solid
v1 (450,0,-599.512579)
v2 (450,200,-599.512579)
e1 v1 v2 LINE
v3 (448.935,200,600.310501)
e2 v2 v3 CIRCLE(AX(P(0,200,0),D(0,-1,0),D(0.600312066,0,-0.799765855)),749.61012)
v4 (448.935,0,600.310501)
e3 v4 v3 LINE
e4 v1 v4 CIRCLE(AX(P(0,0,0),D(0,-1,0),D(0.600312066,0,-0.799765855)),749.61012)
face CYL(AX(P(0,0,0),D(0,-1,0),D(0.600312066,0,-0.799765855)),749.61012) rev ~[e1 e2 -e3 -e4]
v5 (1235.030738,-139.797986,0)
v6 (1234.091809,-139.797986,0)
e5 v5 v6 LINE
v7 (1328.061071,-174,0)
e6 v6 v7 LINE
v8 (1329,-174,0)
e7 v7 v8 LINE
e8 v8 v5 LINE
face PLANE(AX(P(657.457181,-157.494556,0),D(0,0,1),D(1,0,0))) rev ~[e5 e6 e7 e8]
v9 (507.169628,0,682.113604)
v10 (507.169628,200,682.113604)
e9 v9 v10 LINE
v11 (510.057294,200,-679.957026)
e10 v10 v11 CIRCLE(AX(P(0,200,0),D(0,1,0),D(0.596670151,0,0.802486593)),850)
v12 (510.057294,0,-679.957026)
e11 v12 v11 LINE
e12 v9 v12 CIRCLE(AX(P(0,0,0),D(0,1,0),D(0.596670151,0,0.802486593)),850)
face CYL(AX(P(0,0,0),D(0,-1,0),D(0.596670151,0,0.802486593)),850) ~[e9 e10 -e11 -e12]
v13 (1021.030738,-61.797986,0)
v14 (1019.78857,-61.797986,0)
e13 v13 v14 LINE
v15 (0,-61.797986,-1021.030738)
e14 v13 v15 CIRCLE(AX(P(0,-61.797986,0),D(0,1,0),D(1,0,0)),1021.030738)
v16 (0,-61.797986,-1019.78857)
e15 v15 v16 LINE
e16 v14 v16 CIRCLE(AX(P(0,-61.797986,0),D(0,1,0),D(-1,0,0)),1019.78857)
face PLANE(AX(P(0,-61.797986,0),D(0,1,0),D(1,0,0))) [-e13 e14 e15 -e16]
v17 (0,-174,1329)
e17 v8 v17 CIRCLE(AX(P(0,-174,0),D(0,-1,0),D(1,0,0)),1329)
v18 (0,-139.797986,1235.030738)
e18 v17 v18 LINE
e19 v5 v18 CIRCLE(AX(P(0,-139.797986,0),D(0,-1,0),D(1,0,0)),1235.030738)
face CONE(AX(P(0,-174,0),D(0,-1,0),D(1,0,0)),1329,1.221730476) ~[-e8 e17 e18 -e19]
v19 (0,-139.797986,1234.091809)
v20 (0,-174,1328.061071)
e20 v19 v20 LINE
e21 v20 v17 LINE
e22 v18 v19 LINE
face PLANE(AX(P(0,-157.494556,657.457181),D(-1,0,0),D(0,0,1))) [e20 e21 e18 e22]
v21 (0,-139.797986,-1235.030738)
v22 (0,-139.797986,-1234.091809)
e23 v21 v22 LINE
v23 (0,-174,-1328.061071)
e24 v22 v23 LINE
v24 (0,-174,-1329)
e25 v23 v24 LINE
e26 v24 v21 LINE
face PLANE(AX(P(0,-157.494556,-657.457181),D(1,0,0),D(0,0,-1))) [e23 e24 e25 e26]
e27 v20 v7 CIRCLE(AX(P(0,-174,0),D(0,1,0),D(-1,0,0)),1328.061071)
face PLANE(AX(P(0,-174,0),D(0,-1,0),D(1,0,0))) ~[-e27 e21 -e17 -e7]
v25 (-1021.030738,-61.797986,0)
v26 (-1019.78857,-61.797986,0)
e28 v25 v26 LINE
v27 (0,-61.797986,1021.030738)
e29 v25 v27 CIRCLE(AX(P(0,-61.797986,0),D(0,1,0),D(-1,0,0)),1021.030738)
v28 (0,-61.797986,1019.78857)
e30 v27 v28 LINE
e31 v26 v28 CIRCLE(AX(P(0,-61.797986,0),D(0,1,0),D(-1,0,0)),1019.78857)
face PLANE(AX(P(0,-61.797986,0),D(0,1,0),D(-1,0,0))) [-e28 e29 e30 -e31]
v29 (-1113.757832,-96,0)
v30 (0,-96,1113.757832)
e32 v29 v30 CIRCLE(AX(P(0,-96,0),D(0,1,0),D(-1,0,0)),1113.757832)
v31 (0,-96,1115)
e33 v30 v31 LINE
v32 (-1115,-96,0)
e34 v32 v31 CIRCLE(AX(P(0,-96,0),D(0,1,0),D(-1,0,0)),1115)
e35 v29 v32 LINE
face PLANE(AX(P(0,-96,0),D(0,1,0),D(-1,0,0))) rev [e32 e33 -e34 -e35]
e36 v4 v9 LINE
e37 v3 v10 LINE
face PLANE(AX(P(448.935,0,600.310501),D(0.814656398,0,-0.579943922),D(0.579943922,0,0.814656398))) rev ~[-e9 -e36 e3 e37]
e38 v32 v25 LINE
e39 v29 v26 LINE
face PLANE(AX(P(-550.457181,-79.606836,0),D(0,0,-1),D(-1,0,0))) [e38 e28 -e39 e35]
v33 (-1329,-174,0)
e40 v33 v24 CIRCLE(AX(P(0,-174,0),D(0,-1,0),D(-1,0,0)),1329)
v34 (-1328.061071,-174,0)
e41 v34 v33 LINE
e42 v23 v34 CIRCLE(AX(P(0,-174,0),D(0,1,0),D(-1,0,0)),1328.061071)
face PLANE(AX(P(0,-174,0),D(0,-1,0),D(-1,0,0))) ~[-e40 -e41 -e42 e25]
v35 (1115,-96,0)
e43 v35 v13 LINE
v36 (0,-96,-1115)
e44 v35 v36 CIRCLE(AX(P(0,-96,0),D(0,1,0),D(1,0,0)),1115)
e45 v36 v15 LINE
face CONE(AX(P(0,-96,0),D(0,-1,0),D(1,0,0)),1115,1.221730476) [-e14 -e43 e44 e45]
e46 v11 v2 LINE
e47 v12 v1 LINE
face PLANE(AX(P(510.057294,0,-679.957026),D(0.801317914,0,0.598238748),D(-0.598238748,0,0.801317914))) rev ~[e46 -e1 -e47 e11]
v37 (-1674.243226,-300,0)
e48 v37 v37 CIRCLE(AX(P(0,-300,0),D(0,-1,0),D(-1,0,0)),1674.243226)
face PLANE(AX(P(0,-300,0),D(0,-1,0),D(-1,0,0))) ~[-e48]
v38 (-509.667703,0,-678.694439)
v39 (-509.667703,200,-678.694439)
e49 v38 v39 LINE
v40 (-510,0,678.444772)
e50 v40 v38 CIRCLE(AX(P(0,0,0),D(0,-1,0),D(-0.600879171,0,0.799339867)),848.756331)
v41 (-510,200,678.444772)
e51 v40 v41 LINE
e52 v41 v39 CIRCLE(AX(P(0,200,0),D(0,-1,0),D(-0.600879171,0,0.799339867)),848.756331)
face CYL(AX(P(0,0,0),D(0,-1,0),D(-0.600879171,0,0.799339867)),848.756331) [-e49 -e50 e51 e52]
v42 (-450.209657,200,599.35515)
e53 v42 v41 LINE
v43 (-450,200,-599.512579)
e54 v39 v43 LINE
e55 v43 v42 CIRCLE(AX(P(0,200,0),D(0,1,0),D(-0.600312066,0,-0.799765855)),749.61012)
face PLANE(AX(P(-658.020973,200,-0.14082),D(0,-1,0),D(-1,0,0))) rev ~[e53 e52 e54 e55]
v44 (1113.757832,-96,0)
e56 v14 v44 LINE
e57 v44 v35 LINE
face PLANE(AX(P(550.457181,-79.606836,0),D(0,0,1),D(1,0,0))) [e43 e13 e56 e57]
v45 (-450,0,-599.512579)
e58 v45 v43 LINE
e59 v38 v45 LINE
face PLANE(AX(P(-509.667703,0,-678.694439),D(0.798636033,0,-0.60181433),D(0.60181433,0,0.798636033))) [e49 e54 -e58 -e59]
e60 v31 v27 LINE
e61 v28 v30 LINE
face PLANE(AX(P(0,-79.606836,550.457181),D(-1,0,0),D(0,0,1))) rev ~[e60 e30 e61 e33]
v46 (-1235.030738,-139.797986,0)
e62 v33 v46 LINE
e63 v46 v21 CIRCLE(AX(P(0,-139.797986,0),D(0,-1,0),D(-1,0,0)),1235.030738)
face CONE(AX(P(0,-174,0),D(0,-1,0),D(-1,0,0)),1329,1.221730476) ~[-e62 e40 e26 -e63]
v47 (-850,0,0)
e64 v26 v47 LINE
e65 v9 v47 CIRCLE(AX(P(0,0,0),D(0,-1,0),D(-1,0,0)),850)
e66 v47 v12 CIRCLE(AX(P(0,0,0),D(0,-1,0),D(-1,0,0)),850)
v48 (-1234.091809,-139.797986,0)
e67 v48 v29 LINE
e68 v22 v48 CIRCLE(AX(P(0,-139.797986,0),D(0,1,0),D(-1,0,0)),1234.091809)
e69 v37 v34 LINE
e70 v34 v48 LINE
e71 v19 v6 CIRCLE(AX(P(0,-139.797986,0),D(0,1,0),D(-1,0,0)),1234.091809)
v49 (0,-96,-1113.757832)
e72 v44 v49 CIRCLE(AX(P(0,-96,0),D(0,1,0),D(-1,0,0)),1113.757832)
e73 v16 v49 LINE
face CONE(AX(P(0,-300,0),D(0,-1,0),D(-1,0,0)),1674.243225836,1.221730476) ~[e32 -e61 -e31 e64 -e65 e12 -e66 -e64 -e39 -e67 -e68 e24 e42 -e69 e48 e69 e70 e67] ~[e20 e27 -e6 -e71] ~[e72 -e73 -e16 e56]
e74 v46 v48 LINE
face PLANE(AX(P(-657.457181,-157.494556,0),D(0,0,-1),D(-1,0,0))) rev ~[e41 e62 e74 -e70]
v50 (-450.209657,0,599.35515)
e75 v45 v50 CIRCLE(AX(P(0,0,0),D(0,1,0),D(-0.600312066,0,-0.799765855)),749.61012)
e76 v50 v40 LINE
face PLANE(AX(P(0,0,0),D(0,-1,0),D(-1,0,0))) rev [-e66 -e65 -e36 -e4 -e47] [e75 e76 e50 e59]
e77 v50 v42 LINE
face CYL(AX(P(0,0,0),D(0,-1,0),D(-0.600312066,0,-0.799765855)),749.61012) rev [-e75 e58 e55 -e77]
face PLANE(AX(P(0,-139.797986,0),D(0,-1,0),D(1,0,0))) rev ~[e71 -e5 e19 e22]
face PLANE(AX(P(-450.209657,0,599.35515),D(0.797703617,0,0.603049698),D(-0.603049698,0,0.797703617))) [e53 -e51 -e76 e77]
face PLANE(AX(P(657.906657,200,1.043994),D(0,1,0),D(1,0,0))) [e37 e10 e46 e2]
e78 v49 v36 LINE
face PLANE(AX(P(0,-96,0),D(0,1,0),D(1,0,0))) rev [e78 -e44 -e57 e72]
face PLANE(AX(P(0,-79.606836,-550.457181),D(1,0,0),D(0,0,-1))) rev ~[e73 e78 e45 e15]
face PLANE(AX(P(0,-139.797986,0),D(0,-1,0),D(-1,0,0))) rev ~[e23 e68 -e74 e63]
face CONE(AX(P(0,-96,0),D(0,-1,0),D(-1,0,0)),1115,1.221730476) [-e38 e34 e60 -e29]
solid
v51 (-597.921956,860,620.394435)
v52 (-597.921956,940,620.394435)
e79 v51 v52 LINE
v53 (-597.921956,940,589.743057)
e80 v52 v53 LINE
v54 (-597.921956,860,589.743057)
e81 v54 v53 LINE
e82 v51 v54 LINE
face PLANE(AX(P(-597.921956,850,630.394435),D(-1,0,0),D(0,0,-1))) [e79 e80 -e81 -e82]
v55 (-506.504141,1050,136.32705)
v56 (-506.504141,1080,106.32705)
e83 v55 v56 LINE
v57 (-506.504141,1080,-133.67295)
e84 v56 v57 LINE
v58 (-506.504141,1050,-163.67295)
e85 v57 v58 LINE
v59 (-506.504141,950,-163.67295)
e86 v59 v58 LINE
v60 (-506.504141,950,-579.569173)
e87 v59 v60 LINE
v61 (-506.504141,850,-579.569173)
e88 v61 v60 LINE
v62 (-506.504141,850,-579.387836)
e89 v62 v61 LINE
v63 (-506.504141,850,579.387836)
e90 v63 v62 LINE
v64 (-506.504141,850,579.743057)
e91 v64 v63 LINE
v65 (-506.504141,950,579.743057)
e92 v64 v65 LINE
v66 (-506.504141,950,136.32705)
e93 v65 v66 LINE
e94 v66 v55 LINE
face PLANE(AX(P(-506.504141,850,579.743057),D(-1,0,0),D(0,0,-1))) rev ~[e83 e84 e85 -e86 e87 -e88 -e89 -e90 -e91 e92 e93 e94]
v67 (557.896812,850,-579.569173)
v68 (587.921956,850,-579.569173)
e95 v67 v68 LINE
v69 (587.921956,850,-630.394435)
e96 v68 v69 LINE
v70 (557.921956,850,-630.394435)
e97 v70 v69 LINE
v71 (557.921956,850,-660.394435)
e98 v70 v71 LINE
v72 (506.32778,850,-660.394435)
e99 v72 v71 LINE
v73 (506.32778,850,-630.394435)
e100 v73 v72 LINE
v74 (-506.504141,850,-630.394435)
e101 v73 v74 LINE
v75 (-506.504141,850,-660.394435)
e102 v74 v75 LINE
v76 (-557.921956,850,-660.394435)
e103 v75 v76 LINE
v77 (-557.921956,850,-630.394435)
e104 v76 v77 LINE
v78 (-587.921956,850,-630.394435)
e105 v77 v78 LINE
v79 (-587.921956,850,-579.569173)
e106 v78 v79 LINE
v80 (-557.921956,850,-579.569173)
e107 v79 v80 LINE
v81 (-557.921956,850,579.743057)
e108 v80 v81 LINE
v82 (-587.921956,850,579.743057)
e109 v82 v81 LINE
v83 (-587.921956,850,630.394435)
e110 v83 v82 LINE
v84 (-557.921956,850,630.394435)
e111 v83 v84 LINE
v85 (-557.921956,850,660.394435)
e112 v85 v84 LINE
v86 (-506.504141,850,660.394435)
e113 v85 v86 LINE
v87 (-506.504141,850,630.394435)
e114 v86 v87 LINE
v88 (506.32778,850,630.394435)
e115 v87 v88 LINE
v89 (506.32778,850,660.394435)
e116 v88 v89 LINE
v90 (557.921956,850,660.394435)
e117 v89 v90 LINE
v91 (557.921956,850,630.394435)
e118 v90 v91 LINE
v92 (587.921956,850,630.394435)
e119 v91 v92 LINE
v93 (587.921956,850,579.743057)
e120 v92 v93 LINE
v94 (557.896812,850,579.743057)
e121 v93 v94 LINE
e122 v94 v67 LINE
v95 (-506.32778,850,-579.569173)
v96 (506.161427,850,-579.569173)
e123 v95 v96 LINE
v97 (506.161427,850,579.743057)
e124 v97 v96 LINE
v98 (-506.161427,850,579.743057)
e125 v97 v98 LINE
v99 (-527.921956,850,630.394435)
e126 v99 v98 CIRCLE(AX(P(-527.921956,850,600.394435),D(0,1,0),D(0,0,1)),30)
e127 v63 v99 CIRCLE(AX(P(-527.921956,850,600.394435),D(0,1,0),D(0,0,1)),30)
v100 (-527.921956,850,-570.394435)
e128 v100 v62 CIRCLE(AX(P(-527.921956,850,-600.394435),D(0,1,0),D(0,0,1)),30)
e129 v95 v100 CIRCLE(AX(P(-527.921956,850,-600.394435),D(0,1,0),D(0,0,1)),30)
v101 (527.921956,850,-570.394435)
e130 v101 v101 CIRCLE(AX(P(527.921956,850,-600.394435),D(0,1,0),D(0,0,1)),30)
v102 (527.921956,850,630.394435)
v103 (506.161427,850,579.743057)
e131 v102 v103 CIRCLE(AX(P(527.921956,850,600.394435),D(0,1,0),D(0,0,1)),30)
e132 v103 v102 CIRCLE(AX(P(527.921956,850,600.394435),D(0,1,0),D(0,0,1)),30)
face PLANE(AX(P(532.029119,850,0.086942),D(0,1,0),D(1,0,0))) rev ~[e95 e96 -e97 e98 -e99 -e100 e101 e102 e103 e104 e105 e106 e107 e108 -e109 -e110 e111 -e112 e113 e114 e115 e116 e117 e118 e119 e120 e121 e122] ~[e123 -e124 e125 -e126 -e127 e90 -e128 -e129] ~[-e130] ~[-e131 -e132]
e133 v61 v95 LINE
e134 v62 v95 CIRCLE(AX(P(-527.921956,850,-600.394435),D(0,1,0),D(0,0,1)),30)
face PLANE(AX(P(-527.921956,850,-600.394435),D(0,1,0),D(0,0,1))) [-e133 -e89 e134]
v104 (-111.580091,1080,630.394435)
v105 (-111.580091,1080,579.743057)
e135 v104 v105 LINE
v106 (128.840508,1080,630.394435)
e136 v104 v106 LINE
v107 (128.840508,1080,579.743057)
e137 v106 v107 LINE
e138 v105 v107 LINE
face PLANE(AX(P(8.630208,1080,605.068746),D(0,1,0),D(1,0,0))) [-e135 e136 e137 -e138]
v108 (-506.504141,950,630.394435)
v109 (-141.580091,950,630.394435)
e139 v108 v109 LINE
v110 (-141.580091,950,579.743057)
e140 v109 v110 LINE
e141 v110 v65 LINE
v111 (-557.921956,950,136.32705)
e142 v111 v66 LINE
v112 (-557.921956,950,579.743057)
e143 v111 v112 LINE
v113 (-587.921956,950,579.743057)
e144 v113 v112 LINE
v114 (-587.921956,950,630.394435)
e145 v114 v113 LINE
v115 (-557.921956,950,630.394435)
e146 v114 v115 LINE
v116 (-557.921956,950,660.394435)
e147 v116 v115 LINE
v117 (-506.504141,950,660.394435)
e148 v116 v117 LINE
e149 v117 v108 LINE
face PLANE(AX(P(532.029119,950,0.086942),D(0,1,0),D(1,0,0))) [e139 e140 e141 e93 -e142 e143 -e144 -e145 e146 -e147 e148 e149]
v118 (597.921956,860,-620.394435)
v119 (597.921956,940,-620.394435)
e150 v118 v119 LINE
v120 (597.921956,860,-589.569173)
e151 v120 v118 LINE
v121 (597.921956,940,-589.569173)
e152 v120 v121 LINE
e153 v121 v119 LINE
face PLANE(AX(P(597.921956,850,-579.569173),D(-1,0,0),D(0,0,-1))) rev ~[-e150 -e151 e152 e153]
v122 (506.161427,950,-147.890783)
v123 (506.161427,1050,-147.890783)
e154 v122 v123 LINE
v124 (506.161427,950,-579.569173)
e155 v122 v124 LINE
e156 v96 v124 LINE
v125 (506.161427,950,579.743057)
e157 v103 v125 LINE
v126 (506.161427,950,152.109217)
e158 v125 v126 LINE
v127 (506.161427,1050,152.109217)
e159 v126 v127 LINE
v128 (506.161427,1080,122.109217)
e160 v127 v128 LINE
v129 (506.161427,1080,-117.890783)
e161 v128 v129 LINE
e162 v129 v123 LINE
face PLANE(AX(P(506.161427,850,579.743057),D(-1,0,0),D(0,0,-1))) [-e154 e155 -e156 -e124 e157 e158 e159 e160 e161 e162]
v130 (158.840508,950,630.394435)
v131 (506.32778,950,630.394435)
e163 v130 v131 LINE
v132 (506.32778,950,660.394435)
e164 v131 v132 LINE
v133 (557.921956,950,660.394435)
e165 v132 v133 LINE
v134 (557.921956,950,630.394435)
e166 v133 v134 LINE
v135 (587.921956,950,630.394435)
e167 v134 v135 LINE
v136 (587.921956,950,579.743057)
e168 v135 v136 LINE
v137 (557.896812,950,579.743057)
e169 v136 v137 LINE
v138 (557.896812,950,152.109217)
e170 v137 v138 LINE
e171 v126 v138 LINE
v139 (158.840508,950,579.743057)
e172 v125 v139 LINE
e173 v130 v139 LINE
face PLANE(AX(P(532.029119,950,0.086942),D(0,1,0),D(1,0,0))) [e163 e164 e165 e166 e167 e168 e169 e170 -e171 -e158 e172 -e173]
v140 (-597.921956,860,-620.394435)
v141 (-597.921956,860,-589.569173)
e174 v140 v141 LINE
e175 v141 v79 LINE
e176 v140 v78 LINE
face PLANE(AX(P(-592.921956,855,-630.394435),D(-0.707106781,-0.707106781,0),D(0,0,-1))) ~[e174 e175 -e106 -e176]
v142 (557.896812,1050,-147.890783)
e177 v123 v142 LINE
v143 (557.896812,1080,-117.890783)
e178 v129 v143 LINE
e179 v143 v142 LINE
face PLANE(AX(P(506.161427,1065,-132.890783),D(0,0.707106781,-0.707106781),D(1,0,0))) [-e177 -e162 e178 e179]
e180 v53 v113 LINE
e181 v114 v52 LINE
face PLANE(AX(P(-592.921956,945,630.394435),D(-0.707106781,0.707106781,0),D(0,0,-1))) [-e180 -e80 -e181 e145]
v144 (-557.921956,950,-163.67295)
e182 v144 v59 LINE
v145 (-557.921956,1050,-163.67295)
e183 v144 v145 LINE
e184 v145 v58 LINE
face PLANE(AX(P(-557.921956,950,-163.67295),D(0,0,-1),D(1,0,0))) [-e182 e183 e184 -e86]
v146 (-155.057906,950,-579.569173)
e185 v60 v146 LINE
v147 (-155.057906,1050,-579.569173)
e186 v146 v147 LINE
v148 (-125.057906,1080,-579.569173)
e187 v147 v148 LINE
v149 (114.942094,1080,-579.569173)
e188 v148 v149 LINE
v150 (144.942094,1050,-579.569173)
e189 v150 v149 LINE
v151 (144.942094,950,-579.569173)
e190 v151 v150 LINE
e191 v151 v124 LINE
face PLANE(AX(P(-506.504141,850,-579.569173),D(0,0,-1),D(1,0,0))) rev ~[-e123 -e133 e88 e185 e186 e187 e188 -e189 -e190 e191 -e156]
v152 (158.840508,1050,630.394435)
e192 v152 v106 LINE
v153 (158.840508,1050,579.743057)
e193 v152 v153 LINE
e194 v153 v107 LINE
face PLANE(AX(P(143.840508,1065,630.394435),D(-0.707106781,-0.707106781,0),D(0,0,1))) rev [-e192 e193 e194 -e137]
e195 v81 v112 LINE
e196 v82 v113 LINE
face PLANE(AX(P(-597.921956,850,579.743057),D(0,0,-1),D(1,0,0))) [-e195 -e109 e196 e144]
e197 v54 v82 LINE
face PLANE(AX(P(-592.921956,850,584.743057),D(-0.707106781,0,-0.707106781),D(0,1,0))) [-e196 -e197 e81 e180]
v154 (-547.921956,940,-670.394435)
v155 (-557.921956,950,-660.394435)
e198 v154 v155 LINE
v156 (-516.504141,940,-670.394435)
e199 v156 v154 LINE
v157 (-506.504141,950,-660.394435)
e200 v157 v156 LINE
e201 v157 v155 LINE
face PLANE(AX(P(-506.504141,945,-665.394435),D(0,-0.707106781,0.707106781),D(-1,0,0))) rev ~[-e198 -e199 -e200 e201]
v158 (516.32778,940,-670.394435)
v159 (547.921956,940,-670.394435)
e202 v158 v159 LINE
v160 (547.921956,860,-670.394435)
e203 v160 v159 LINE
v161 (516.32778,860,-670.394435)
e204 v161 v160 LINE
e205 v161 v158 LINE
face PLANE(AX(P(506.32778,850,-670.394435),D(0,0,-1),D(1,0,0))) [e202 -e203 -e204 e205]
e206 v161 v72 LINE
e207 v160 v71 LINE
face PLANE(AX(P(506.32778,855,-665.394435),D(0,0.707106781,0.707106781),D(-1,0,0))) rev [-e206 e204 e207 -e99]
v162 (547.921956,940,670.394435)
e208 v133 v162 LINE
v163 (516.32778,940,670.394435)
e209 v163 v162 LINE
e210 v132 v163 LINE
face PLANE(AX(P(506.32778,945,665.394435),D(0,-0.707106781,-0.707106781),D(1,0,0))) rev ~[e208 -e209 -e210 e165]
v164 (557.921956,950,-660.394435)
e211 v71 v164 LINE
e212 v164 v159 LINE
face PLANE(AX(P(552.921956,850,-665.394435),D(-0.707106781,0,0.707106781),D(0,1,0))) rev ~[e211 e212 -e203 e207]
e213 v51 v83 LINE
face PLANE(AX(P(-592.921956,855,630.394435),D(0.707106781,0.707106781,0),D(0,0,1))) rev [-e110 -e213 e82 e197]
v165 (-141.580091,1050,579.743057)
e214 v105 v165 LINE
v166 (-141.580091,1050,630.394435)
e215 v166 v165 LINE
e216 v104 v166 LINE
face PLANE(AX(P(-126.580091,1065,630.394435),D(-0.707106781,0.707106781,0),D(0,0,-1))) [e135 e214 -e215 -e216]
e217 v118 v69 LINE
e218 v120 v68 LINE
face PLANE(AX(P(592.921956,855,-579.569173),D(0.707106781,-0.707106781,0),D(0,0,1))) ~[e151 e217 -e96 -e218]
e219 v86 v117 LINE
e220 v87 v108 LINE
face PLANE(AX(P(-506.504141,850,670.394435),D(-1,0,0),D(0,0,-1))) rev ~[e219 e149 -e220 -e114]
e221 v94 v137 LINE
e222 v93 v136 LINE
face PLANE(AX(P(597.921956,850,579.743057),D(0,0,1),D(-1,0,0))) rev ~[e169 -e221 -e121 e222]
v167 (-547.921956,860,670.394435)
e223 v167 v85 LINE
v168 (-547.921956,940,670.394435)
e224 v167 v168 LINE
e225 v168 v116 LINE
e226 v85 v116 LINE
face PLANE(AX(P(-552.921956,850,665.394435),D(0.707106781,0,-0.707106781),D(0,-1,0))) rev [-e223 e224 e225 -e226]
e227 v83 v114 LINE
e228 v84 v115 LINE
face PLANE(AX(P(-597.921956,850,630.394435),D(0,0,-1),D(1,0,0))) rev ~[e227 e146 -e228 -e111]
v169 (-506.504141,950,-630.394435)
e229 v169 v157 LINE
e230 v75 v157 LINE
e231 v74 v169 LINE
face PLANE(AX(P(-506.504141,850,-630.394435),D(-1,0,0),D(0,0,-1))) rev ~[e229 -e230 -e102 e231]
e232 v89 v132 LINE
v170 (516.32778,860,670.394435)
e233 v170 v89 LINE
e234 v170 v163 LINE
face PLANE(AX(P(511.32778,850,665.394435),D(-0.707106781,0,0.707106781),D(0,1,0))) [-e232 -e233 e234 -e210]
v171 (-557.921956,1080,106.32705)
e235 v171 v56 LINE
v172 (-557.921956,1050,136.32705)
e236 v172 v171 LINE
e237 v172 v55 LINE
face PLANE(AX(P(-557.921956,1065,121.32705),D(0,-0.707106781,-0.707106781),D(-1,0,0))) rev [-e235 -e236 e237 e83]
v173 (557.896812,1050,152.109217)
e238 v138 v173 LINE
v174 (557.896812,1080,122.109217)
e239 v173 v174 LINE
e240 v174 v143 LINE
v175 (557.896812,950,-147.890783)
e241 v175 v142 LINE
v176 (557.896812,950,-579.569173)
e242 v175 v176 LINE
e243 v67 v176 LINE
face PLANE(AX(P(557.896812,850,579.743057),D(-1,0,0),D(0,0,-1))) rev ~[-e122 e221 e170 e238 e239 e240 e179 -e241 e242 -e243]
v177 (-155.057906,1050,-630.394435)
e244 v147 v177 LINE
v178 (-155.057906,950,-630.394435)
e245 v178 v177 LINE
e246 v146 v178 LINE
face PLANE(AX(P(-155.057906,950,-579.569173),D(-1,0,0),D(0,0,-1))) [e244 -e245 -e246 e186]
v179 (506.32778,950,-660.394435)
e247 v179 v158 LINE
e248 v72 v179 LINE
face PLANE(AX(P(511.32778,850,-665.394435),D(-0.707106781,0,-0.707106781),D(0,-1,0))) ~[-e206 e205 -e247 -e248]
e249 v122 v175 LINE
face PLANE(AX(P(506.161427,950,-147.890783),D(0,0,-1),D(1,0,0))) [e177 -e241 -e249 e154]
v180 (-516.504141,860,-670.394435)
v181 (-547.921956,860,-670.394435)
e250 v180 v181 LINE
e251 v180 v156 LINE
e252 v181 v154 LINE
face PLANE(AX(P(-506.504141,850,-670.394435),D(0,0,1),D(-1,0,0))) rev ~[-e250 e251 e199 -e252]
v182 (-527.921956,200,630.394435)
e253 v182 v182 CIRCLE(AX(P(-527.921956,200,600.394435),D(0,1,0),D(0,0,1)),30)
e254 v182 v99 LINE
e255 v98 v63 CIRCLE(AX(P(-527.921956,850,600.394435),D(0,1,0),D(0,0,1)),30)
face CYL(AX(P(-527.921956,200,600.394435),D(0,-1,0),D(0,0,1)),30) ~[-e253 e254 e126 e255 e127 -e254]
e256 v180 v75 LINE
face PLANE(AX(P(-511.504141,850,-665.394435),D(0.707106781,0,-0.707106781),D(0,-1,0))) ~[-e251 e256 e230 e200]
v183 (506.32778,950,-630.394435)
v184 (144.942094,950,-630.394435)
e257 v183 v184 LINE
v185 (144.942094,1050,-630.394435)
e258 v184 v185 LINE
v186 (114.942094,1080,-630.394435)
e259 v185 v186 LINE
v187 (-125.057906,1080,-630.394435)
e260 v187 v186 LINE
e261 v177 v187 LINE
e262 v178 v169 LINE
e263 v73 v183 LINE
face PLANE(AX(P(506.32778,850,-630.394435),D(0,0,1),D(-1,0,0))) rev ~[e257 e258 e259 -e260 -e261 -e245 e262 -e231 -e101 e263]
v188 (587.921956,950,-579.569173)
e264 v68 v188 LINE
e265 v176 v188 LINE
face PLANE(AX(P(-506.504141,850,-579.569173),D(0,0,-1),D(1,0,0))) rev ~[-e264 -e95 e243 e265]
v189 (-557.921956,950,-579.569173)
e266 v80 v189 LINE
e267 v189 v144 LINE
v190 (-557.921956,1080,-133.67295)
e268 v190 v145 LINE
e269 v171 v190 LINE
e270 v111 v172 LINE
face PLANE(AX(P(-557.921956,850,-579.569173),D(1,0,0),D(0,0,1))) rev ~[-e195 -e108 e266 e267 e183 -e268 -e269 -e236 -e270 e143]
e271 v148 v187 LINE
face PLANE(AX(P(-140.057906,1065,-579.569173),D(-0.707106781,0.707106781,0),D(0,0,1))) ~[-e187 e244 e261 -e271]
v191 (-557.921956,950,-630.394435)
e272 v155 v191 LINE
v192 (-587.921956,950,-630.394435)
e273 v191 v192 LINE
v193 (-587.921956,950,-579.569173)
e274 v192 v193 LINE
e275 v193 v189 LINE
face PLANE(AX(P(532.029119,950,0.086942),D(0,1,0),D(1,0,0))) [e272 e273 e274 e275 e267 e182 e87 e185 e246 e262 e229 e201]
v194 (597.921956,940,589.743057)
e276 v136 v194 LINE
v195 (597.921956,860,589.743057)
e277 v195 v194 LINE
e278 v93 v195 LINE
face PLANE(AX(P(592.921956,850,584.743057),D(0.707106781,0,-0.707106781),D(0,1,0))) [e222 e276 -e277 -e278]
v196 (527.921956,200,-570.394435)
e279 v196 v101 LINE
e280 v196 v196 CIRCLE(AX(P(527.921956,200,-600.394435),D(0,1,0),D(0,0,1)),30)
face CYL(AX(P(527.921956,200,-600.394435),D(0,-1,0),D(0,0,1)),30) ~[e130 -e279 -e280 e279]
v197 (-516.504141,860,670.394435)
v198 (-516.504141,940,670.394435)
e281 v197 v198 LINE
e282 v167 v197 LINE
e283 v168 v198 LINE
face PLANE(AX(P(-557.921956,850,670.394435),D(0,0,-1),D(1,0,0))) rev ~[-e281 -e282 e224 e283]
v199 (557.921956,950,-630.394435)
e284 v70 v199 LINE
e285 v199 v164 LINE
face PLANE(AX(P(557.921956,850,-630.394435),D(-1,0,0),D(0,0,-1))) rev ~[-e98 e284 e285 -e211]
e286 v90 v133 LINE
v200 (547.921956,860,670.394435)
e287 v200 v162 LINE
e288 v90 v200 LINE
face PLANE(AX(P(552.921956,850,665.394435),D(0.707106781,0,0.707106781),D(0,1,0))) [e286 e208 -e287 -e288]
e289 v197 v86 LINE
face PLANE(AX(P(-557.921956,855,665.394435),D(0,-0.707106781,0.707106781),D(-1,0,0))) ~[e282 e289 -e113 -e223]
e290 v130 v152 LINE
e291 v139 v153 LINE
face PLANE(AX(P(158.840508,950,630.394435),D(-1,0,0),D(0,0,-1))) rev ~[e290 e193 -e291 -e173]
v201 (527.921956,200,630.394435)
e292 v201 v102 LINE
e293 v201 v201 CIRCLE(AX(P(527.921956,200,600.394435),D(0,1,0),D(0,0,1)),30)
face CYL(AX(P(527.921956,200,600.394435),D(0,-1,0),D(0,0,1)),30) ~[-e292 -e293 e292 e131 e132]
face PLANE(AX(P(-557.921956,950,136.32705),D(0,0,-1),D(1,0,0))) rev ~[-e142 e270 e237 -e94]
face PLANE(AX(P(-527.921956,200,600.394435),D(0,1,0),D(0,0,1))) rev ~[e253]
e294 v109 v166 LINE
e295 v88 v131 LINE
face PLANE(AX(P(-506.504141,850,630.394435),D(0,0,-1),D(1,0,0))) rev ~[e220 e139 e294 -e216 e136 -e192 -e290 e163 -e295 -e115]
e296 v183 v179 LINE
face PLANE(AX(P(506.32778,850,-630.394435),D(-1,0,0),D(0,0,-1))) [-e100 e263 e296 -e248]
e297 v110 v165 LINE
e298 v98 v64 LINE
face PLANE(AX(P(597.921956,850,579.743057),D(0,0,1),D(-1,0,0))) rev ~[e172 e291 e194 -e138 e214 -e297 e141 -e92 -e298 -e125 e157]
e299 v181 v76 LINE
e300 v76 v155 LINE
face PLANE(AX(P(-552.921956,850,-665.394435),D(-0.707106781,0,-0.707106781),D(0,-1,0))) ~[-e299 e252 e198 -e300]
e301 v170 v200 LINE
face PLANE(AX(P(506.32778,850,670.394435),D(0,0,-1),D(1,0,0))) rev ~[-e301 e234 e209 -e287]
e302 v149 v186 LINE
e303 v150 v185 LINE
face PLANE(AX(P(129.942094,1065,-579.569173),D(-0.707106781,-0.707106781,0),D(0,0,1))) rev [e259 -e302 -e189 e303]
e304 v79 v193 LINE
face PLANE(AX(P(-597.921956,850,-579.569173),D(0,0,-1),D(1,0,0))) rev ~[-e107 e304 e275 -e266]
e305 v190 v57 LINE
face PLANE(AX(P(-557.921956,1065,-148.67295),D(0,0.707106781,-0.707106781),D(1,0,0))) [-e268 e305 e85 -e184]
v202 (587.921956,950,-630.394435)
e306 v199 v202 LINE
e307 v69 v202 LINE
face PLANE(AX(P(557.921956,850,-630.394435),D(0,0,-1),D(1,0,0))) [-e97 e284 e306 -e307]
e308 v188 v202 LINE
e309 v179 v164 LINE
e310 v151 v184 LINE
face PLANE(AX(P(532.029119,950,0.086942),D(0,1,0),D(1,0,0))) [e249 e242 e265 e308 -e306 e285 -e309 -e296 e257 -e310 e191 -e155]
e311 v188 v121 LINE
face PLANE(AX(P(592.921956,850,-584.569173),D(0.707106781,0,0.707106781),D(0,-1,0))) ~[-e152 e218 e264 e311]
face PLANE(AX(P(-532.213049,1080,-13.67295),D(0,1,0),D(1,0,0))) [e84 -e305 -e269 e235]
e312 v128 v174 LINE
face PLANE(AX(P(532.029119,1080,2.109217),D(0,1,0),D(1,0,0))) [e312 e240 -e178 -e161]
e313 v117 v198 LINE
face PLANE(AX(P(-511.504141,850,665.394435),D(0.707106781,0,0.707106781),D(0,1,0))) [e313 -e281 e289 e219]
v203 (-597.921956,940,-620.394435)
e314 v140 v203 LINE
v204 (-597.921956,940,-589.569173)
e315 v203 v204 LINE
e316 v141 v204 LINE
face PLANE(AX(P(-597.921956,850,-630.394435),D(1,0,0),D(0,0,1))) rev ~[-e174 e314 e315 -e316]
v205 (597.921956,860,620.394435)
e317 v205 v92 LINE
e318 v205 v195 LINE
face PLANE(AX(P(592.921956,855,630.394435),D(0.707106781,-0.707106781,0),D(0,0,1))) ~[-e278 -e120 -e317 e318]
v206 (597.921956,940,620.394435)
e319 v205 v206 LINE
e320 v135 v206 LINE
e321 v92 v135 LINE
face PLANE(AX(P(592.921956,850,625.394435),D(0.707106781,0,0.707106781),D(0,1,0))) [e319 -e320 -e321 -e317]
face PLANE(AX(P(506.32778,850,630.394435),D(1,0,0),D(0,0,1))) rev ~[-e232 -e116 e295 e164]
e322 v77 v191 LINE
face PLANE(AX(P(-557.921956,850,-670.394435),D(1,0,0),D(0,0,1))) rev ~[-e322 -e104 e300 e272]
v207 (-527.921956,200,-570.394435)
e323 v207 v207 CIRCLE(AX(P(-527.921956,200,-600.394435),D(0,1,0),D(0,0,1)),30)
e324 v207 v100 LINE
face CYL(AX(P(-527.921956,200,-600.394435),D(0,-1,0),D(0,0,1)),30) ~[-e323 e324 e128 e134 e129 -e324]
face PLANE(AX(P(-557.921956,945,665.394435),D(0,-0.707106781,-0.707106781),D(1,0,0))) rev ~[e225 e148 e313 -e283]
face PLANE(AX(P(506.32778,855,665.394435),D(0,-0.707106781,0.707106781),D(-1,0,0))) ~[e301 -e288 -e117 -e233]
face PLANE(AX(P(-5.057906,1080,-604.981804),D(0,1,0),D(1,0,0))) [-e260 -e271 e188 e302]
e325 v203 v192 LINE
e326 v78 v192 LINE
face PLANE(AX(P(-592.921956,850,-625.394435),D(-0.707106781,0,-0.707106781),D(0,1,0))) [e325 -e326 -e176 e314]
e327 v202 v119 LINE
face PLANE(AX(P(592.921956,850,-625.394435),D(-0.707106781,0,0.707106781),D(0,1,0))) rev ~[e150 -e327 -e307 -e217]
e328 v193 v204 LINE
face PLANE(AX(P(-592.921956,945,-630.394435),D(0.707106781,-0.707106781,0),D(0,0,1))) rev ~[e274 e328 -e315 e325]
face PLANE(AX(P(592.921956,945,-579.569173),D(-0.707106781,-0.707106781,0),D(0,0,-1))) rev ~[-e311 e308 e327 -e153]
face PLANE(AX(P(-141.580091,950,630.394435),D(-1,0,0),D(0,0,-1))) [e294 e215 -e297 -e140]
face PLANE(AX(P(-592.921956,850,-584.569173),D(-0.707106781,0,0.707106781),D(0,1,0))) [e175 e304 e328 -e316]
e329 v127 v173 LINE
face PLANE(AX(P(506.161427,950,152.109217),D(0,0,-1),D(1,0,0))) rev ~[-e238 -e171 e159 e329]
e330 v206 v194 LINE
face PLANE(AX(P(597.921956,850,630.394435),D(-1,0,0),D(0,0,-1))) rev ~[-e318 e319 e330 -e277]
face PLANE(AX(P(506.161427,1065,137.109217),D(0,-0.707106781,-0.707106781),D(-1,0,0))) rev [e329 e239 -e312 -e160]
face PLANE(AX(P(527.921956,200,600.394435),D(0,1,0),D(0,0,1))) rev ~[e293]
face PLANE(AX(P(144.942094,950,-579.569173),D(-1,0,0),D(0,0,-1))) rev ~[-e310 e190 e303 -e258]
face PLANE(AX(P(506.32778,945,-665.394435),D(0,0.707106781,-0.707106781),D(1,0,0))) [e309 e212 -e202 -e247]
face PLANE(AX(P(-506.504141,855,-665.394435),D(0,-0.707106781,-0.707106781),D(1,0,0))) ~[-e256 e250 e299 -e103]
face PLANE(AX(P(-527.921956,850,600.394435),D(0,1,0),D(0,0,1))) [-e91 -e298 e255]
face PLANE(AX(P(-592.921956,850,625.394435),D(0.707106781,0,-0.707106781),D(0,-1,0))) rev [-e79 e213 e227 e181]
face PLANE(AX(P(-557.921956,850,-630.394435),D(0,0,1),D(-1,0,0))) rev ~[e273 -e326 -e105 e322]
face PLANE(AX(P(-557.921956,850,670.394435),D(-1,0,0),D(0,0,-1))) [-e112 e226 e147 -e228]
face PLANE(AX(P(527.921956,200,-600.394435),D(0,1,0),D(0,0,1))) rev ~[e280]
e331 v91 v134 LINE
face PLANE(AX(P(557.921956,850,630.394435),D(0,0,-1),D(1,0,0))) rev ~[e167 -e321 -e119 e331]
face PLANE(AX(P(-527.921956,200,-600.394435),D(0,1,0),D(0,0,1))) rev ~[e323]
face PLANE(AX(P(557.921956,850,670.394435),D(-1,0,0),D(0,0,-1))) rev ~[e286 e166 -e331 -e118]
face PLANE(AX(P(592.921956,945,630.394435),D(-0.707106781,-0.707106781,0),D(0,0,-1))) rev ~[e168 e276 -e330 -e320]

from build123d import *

# Parameters (mm, degrees)
SKETCH_2_W        = 850
SKETCH_2_H        = 300
EXTRUDE_1_DEPTH   = 200
SKETCH_9_R        = 30
EXTRUDE_2_DEPTH   = 650
EXTRUDE_2_2_DEPTH = 650
EXTRUDE_2_3_DEPTH = 650
EXTRUDE_2_4_DEPTH = 650
SKETCH_10_W       = 40
SKETCH_10_H       = 50.651377378
SKETCH_10_W_2     = 51.417815055
SKETCH_10_H_2     = 40
SKETCH_10_W_3     = 1012.831920557
SKETCH_10_W_4     = 51.594176572
SKETCH_10_H_3     = 50.82526202
EXTRUDE_3_DEPTH   = 100
SKETCH_11_W       = 51.735384241
SKETCH_11_H       = 1159.312229664
EXTRUDE_4_DEPTH   = 100
CHAMFER_1_SIZE    = 10
CHAMFER_2_SIZE    = 10
CHAMFER_3_SIZE    = 10
SKETCH_14_W       = 300.420598197
SKETCH_14_H       = 50.651377378
SKETCH_14_W_2     = 51.735384241
SKETCH_14_H_2     = 300
SKETCH_14_W_3     = 300
SKETCH_14_H_3     = 50.82526202
SKETCH_14_W_4     = 51.417815055
EXTRUDE_5_DEPTH   = 130
CHAMFER_6_SIZE    = 30
CHAMFER_7_SIZE    = 30
REVOLVE_3_ANGLE   = 90
REVOLVE_4_ANGLE   = 90
REVOLVE_5_ANGLE   = 90
REVOLVE_6_ANGLE   = 90


with BuildPart() as part:
    # 草图2 → 旋转1 (revolve)
    with BuildSketch(Plane.XY, mode=Mode.PRIVATE) as revolve_1_sk:
        with Locations((425, -150)):
            Rectangle(SKETCH_2_W, SKETCH_2_H)
        Polygon((1674.243225836, -300), (850, 0), (850, -300), align=None)
    revolve(revolve_1_sk.sketch.rotate(Axis((0, 0, 0), (0, -1, 0)), 180), axis=Axis((0, 0, 0), (0, -1, 0)))

    # 草图7 → 凸台-拉伸1 (add)
    with BuildSketch(Plane(origin=(0, 0, 0), x_dir=(1, 0, 0), z_dir=(0, 1, 0))):
        with BuildLine():
            Line((-450.209657385, -599.355150386), (-510, -678.444772222))
            ThreePointArc((-510, -678.444772222), (-848.756305289, 0.207818597), (-509.66770348, 678.694438599))
            Line((-509.66770348, 678.694438599), (-450, 599.512578598))
            ThreePointArc((-450, 599.512578598), (-749.610108464, 0.131091439), (-450.209657385, -599.355150386))
        make_face()
        with BuildLine():
            Line((510.057293827, 679.957025858), (450, 599.512578598))
            ThreePointArc((450, 599.512578598), (749.609824622, -0.665376802), (448.935000026, -600.310501031))
            Line((448.935000026, -600.310501031), (507.169627968, -682.113603784))
            ThreePointArc((507.169627968, -682.113603784), (849.998089786, -1.802043456), (510.057293827, 679.957025858))
        make_face()
    extrude(amount=EXTRUDE_1_DEPTH)

    # 草图16 → 旋转3 (revolve)
    with BuildSketch(Plane.XY):
        Polygon((0, -174), (1329, -174), (1235.030737921, -139.797985667), (0, -139.797985667), align=None)
    revolve(axis=Axis((0, 0, 0), (0, -1, 0)), revolution_arc=REVOLVE_3_ANGLE)

    # 草图19 → 旋转4 (revolve)
    with BuildSketch(Plane.XY):
        Polygon((0, -174), (-1329, -174), (-1235.030737921, -139.797985667), (0, -139.797985667), align=None)
    revolve(axis=Axis((0, 0, 0), (0, -1, 0)), revolution_arc=REVOLVE_4_ANGLE)

    # 草图20 → 旋转5 (revolve)
    with BuildSketch(Plane.XY):
        Polygon((0, -96), (1115, -96), (1021.030737921, -61.797985667), (0, -61.797985667), align=None)
    revolve(axis=Axis((0, 0, 0), (0, 1, 0)), revolution_arc=REVOLVE_5_ANGLE)

    # 草图21 → 旋转6 (revolve)
    with BuildSketch(Plane.XY):
        Polygon((0, -96), (-1115, -96), (-1021.030737921, -61.797985667), (0, -61.797985667), align=None)
    revolve(axis=Axis((0, 0, 0), (0, 1, 0)), revolution_arc=REVOLVE_6_ANGLE)


with BuildPart() as body_2:
    # 草图9 → 凸台-拉伸2 (new body)
    with BuildSketch(Plane(origin=(0, 200, 0), x_dir=(1, 0, 0), z_dir=(0, 1, 0))):
        with Locations(Location((-527.921956092, -600.394434531, 0), (0, 0, 270))):
            Circle(SKETCH_9_R)
    extrude(amount=EXTRUDE_2_DEPTH)



with BuildPart() as body_3:
    # 草图9 → Extrude 2 2 (new body)
    with BuildSketch(Plane(origin=(0, 200, 0), x_dir=(1, 0, 0), z_dir=(0, 1, 0))):
        with Locations(Location((527.921956092, -600.394434531, 0), (0, 0, 270))):
            Circle(SKETCH_9_R)
    extrude(amount=EXTRUDE_2_2_DEPTH)


with BuildPart() as body_4:
    # 草图9 → Extrude 2 3 (new body)
    with BuildSketch(Plane(origin=(0, 200, 0), x_dir=(1, 0, 0), z_dir=(0, 1, 0))):
        with Locations(Location((527.921956092, 600.394434531, 0), (0, 0, 270))):
            Circle(SKETCH_9_R)
    extrude(amount=EXTRUDE_2_3_DEPTH)


with BuildPart() as body_5:
    # 草图9 → Extrude 2 4 (new body)
    with BuildSketch(Plane(origin=(0, 200, 0), x_dir=(1, 0, 0), z_dir=(0, 1, 0))):
        with Locations(Location((-527.921956092, 600.394434531, 0), (0, 0, 270))):
            Circle(SKETCH_9_R)
    extrude(amount=EXTRUDE_2_4_DEPTH)


with BuildPart() as body_2_1:
    add(body_2.part)

    add(body_3.part)  # 凸台-拉伸3 merges body 3

    add(body_4.part)  # 凸台-拉伸3 merges body 4

    add(body_5.part)  # 凸台-拉伸3 merges body 5
    # 草图10 → 凸台-拉伸3 (add)
    with BuildSketch(Plane(origin=(0, 850, 0), x_dir=(1, 0, 0), z_dir=(0, 1, 0))):
        Polygon((-597.921956092, 579.569172511), (-557.921956092, 579.569172511), (-557.921956092, 600.394434531), (-557.921956092, 630.394434531), (-597.921956092, 630.394434531), align=None)
        with BuildLine():
            Line((-557.921956092, 630.394434531), (-557.921956092, 600.394434531))
            ThreePointArc((-557.921956092, 600.394434531), (-549.135159528, 621.607637966), (-527.921956092, 630.394434531))
            Line((-527.921956092, 630.394434531), (-557.921956092, 630.394434531))
        make_face()
        with BuildLine():
            Line((-557.921956092, 600.394434531), (-557.921956092, 579.569172511))
            Line((-557.921956092, 579.569172511), (-549.516132664, 579.569172511))
            ThreePointArc((-549.516132664, 579.569172511), (-555.741241643, 589.165572103), (-557.921956092, 600.394434531))
        make_face()
        with BuildLine():
            Line((-549.516132664, 579.569172511), (-506.504141037, 579.569172511))
            Line((-506.504141037, 579.569172511), (-506.504141037, 621.401033452))
            ThreePointArc((-506.504141037, 621.401033452), (-516.30726642, 628.054857229), (-527.921956092, 630.394434531))
            ThreePointArc((-527.921956092, 630.394434531), (-549.135159528, 621.607637966), (-557.921956092, 600.394434531))
            ThreePointArc((-557.921956092, 600.394434531), (-555.741241643, 589.165572103), (-549.516132664, 579.569172511))
        make_face()
        with BuildLine():
            ThreePointArc((-527.921956092, 630.394434531), (-516.30726642, 628.054857229), (-506.504141037, 621.401033452))
            Line((-506.504141037, 621.401033452), (-506.504141037, 630.394434531))
            Line((-506.504141037, 630.394434531), (-527.921956092, 630.394434531))
        make_face()
        Polygon((-557.921956092, 670.394434531), (-557.921956092, 630.394434531), (-527.921956092, 630.394434531), (-506.504141037, 630.394434531), (-506.504141037, 670.394434531), align=None)
        with BuildLine():
            Line((-506.504141037, 621.401033452), (-506.504141037, 579.569172511))
            Line((-506.504141037, 579.569172511), (-506.32777952, 579.569172511))
            ThreePointArc((-506.32777952, 579.569172511), (-500.102670541, 589.165572103), (-497.921956092, 600.394434531))
            ThreePointArc((-497.921956092, 600.394434531), (-500.150257804, 611.740481162), (-506.504141037, 621.401033452))
        make_face()
        with BuildLine():
            ThreePointArc((-549.516132664, 579.569172511), (-528.048433814, 570.394701142), (-506.504141037, 579.387835609))
            Line((-506.504141037, 579.387835609), (-506.504141037, 579.569172511))
            Line((-506.504141037, 579.569172511), (-549.516132664, 579.569172511))
        make_face()
        with BuildLine():
            Line((-557.921956092, -579.743057153), (-506.504141037, -579.743057153))
            Line((-506.504141037, -579.743057153), (-506.504141037, 579.387835609))
            ThreePointArc((-506.504141037, 579.387835609), (-528.048433814, 570.394701142), (-549.516132664, 579.569172511))
            Line((-549.516132664, 579.569172511), (-557.921956092, 579.569172511))
            Line((-557.921956092, 579.569172511), (-557.921956092, -579.743057153))
        make_face()
        with BuildLine():
            Line((-506.32777952, 579.569172511), (506.32777952, 579.569172511))
            Line((506.32777952, 579.569172511), (506.32777952, 630.394434531))
            Line((506.32777952, 630.394434531), (-506.504141037, 630.394434531))
            Line((-506.504141037, 630.394434531), (-506.504141037, 621.401033452))
            ThreePointArc((-506.504141037, 621.401033452), (-500.150257804, 611.740481162), (-497.921956092, 600.394434531))
            ThreePointArc((-497.921956092, 600.394434531), (-500.102670541, 589.165572103), (-506.32777952, 579.569172511))
        make_face()
        with Locations((-577.921956092, -605.068745842)):
            Rectangle(SKETCH_10_W, SKETCH_10_H)
        with Locations((-532.213048565, -605.068745842)):
            Rectangle(SKETCH_10_W_2, SKETCH_10_H)
        with Locations((-532.213048565, -650.394434531)):
            Rectangle(SKETCH_10_W_2, SKETCH_10_H_2)
        with Locations((-0.088180758, -605.068745842)):
            Rectangle(SKETCH_10_W_3, SKETCH_10_H)
        with Locations((532.124867806, -605.068745842)):
            Rectangle(SKETCH_10_W_4, SKETCH_10_H)
        Polygon((557.921956092, -630.394434531), (506.32777952, -630.394434531), (506.32777952, -633.088964608), (506.32777952, -670.394434531), (557.921956092, -670.394434531), align=None)
        with Locations((577.921956092, -605.068745842)):
            Rectangle(SKETCH_10_W, SKETCH_10_H)
        with Locations((532.124867806, 650.394434531)):
            Rectangle(SKETCH_10_W_4, SKETCH_10_H_2)
        with Locations((532.124867806, 604.981803521)):
            Rectangle(SKETCH_10_W_4, SKETCH_10_H_3)
        with Locations((577.921956092, 604.981803521)):
            Rectangle(SKETCH_10_W, SKETCH_10_H_3)
    extrude(amount=EXTRUDE_3_DEPTH)

    # 草图11 → 凸台-拉伸4 (add)
    with BuildSketch(Plane(origin=(0, 850, 0), x_dir=(1, 0, 0), z_dir=(0, 1, 0))):
        with Locations((532.029119441, -0.086942321)):
            Rectangle(SKETCH_11_W, SKETCH_11_H)
    extrude(amount=EXTRUDE_4_DEPTH)

    # 倒角1
    chamfer_1_edges = [body_2_1.edges().sort_by_distance(p)[0] for p in [
        (597.921956092, 950, 605.068745842),
        (597.921956092, 900, 630.394434531),
        (597.921956092, 900, 579.743057153),
        (597.921956092, 850, 605.068745842),
    ]]
    chamfer(chamfer_1_edges, length=CHAMFER_1_SIZE)

    # 倒角2
    chamfer_2_edges = [body_2_1.edges().sort_by_distance(p)[0] for p in [
        (532.124867806, 950, 670.394434531),
        (506.32777952, 900, 670.394434531),
        (557.921956092, 900, 670.394434531),
        (532.124867806, 850, 670.394434531),
    ]]
    chamfer(chamfer_2_edges, length=CHAMFER_2_SIZE)

    # 倒角3
    chamfer_3_edges = [body_2_1.edges().sort_by_distance(p)[0] for p in [
        (532.124867806, 850, -670.394434531),
        (597.921956092, 850, -604.981803521),
        (597.921956092, 950, -604.981803521),
        (597.921956092, 900, -579.569172511),
        (597.921956092, 900, -630.394434531),
        (532.124867806, 950, -670.394434531),
        (557.921956092, 900, -670.394434531),
        (506.32777952, 900, -670.394434531),
        (-532.213048564, 850, -670.394434531),
        (-506.504141037, 900, -670.394434531),
        (-557.921956092, 900, -670.394434531),
        (-597.921956092, 850, -604.981803521),
        (-597.921956092, 900, -630.394434531),
        (-597.921956092, 900, -579.569172511),
        (-597.921956092, 850, 605.068745842),
        (-597.921956092, 900, 579.743057153),
        (-597.921956092, 900, 630.394434531),
        (-532.213048564, 850, 670.394434531),
        (-557.921956092, 900, 670.394434531),
        (-506.504141037, 900, 670.394434531),
        (-532.213048564, 950, -670.394434531),
        (-597.921956092, 950, -604.981803521),
        (-597.921956092, 950, 605.068745842),
        (-532.213048564, 950, 670.394434531),
    ]]
    chamfer(chamfer_3_edges, length=CHAMFER_3_SIZE)

    # 草图14 → 凸台-拉伸5 (add)
    with BuildSketch(Plane(origin=(0, 950, 0), x_dir=(1, 0, 0), z_dir=(0, 1, 0))):
        with Locations((8.630208478, -605.068745842)):
            Rectangle(SKETCH_14_W, SKETCH_14_H)
        with Locations((532.029119441, -2.109217431)):
            Rectangle(SKETCH_14_W_2, SKETCH_14_H_2)
        with Locations((-5.057905502, 604.981803521)):
            Rectangle(SKETCH_14_W_3, SKETCH_14_H_3)
        with Locations((-532.213048565, 13.672950277)):
            Rectangle(SKETCH_14_W_4, SKETCH_14_H_2)
    extrude(amount=EXTRUDE_5_DEPTH)

    # 倒角6
    chamfer_6_edges = [body_2_1.edges().sort_by_distance(p)[0] for p in [
        (532.029119441, 1080, 152.109217431),
    ]]
    chamfer(chamfer_6_edges, length=CHAMFER_6_SIZE)

    # 倒角7
    chamfer_7_edges = [body_2_1.edges().sort_by_distance(p)[0] for p in [
        (-141.580090621, 1080, 605.068745842),
        (158.840507576, 1080, 605.068745842),
        (532.029119441, 1080, -147.890782569),
        (-155.057905502, 1080, -604.981803521),
        (144.942094498, 1080, -604.981803521),
        (-532.213048564, 1080, 136.327049723),
        (-532.213048564, 1080, -163.672950277),
    ]]
    chamfer(chamfer_7_edges, length=CHAMFER_7_SIZE)


solid = Compound([part.part, body_2_1.part])
